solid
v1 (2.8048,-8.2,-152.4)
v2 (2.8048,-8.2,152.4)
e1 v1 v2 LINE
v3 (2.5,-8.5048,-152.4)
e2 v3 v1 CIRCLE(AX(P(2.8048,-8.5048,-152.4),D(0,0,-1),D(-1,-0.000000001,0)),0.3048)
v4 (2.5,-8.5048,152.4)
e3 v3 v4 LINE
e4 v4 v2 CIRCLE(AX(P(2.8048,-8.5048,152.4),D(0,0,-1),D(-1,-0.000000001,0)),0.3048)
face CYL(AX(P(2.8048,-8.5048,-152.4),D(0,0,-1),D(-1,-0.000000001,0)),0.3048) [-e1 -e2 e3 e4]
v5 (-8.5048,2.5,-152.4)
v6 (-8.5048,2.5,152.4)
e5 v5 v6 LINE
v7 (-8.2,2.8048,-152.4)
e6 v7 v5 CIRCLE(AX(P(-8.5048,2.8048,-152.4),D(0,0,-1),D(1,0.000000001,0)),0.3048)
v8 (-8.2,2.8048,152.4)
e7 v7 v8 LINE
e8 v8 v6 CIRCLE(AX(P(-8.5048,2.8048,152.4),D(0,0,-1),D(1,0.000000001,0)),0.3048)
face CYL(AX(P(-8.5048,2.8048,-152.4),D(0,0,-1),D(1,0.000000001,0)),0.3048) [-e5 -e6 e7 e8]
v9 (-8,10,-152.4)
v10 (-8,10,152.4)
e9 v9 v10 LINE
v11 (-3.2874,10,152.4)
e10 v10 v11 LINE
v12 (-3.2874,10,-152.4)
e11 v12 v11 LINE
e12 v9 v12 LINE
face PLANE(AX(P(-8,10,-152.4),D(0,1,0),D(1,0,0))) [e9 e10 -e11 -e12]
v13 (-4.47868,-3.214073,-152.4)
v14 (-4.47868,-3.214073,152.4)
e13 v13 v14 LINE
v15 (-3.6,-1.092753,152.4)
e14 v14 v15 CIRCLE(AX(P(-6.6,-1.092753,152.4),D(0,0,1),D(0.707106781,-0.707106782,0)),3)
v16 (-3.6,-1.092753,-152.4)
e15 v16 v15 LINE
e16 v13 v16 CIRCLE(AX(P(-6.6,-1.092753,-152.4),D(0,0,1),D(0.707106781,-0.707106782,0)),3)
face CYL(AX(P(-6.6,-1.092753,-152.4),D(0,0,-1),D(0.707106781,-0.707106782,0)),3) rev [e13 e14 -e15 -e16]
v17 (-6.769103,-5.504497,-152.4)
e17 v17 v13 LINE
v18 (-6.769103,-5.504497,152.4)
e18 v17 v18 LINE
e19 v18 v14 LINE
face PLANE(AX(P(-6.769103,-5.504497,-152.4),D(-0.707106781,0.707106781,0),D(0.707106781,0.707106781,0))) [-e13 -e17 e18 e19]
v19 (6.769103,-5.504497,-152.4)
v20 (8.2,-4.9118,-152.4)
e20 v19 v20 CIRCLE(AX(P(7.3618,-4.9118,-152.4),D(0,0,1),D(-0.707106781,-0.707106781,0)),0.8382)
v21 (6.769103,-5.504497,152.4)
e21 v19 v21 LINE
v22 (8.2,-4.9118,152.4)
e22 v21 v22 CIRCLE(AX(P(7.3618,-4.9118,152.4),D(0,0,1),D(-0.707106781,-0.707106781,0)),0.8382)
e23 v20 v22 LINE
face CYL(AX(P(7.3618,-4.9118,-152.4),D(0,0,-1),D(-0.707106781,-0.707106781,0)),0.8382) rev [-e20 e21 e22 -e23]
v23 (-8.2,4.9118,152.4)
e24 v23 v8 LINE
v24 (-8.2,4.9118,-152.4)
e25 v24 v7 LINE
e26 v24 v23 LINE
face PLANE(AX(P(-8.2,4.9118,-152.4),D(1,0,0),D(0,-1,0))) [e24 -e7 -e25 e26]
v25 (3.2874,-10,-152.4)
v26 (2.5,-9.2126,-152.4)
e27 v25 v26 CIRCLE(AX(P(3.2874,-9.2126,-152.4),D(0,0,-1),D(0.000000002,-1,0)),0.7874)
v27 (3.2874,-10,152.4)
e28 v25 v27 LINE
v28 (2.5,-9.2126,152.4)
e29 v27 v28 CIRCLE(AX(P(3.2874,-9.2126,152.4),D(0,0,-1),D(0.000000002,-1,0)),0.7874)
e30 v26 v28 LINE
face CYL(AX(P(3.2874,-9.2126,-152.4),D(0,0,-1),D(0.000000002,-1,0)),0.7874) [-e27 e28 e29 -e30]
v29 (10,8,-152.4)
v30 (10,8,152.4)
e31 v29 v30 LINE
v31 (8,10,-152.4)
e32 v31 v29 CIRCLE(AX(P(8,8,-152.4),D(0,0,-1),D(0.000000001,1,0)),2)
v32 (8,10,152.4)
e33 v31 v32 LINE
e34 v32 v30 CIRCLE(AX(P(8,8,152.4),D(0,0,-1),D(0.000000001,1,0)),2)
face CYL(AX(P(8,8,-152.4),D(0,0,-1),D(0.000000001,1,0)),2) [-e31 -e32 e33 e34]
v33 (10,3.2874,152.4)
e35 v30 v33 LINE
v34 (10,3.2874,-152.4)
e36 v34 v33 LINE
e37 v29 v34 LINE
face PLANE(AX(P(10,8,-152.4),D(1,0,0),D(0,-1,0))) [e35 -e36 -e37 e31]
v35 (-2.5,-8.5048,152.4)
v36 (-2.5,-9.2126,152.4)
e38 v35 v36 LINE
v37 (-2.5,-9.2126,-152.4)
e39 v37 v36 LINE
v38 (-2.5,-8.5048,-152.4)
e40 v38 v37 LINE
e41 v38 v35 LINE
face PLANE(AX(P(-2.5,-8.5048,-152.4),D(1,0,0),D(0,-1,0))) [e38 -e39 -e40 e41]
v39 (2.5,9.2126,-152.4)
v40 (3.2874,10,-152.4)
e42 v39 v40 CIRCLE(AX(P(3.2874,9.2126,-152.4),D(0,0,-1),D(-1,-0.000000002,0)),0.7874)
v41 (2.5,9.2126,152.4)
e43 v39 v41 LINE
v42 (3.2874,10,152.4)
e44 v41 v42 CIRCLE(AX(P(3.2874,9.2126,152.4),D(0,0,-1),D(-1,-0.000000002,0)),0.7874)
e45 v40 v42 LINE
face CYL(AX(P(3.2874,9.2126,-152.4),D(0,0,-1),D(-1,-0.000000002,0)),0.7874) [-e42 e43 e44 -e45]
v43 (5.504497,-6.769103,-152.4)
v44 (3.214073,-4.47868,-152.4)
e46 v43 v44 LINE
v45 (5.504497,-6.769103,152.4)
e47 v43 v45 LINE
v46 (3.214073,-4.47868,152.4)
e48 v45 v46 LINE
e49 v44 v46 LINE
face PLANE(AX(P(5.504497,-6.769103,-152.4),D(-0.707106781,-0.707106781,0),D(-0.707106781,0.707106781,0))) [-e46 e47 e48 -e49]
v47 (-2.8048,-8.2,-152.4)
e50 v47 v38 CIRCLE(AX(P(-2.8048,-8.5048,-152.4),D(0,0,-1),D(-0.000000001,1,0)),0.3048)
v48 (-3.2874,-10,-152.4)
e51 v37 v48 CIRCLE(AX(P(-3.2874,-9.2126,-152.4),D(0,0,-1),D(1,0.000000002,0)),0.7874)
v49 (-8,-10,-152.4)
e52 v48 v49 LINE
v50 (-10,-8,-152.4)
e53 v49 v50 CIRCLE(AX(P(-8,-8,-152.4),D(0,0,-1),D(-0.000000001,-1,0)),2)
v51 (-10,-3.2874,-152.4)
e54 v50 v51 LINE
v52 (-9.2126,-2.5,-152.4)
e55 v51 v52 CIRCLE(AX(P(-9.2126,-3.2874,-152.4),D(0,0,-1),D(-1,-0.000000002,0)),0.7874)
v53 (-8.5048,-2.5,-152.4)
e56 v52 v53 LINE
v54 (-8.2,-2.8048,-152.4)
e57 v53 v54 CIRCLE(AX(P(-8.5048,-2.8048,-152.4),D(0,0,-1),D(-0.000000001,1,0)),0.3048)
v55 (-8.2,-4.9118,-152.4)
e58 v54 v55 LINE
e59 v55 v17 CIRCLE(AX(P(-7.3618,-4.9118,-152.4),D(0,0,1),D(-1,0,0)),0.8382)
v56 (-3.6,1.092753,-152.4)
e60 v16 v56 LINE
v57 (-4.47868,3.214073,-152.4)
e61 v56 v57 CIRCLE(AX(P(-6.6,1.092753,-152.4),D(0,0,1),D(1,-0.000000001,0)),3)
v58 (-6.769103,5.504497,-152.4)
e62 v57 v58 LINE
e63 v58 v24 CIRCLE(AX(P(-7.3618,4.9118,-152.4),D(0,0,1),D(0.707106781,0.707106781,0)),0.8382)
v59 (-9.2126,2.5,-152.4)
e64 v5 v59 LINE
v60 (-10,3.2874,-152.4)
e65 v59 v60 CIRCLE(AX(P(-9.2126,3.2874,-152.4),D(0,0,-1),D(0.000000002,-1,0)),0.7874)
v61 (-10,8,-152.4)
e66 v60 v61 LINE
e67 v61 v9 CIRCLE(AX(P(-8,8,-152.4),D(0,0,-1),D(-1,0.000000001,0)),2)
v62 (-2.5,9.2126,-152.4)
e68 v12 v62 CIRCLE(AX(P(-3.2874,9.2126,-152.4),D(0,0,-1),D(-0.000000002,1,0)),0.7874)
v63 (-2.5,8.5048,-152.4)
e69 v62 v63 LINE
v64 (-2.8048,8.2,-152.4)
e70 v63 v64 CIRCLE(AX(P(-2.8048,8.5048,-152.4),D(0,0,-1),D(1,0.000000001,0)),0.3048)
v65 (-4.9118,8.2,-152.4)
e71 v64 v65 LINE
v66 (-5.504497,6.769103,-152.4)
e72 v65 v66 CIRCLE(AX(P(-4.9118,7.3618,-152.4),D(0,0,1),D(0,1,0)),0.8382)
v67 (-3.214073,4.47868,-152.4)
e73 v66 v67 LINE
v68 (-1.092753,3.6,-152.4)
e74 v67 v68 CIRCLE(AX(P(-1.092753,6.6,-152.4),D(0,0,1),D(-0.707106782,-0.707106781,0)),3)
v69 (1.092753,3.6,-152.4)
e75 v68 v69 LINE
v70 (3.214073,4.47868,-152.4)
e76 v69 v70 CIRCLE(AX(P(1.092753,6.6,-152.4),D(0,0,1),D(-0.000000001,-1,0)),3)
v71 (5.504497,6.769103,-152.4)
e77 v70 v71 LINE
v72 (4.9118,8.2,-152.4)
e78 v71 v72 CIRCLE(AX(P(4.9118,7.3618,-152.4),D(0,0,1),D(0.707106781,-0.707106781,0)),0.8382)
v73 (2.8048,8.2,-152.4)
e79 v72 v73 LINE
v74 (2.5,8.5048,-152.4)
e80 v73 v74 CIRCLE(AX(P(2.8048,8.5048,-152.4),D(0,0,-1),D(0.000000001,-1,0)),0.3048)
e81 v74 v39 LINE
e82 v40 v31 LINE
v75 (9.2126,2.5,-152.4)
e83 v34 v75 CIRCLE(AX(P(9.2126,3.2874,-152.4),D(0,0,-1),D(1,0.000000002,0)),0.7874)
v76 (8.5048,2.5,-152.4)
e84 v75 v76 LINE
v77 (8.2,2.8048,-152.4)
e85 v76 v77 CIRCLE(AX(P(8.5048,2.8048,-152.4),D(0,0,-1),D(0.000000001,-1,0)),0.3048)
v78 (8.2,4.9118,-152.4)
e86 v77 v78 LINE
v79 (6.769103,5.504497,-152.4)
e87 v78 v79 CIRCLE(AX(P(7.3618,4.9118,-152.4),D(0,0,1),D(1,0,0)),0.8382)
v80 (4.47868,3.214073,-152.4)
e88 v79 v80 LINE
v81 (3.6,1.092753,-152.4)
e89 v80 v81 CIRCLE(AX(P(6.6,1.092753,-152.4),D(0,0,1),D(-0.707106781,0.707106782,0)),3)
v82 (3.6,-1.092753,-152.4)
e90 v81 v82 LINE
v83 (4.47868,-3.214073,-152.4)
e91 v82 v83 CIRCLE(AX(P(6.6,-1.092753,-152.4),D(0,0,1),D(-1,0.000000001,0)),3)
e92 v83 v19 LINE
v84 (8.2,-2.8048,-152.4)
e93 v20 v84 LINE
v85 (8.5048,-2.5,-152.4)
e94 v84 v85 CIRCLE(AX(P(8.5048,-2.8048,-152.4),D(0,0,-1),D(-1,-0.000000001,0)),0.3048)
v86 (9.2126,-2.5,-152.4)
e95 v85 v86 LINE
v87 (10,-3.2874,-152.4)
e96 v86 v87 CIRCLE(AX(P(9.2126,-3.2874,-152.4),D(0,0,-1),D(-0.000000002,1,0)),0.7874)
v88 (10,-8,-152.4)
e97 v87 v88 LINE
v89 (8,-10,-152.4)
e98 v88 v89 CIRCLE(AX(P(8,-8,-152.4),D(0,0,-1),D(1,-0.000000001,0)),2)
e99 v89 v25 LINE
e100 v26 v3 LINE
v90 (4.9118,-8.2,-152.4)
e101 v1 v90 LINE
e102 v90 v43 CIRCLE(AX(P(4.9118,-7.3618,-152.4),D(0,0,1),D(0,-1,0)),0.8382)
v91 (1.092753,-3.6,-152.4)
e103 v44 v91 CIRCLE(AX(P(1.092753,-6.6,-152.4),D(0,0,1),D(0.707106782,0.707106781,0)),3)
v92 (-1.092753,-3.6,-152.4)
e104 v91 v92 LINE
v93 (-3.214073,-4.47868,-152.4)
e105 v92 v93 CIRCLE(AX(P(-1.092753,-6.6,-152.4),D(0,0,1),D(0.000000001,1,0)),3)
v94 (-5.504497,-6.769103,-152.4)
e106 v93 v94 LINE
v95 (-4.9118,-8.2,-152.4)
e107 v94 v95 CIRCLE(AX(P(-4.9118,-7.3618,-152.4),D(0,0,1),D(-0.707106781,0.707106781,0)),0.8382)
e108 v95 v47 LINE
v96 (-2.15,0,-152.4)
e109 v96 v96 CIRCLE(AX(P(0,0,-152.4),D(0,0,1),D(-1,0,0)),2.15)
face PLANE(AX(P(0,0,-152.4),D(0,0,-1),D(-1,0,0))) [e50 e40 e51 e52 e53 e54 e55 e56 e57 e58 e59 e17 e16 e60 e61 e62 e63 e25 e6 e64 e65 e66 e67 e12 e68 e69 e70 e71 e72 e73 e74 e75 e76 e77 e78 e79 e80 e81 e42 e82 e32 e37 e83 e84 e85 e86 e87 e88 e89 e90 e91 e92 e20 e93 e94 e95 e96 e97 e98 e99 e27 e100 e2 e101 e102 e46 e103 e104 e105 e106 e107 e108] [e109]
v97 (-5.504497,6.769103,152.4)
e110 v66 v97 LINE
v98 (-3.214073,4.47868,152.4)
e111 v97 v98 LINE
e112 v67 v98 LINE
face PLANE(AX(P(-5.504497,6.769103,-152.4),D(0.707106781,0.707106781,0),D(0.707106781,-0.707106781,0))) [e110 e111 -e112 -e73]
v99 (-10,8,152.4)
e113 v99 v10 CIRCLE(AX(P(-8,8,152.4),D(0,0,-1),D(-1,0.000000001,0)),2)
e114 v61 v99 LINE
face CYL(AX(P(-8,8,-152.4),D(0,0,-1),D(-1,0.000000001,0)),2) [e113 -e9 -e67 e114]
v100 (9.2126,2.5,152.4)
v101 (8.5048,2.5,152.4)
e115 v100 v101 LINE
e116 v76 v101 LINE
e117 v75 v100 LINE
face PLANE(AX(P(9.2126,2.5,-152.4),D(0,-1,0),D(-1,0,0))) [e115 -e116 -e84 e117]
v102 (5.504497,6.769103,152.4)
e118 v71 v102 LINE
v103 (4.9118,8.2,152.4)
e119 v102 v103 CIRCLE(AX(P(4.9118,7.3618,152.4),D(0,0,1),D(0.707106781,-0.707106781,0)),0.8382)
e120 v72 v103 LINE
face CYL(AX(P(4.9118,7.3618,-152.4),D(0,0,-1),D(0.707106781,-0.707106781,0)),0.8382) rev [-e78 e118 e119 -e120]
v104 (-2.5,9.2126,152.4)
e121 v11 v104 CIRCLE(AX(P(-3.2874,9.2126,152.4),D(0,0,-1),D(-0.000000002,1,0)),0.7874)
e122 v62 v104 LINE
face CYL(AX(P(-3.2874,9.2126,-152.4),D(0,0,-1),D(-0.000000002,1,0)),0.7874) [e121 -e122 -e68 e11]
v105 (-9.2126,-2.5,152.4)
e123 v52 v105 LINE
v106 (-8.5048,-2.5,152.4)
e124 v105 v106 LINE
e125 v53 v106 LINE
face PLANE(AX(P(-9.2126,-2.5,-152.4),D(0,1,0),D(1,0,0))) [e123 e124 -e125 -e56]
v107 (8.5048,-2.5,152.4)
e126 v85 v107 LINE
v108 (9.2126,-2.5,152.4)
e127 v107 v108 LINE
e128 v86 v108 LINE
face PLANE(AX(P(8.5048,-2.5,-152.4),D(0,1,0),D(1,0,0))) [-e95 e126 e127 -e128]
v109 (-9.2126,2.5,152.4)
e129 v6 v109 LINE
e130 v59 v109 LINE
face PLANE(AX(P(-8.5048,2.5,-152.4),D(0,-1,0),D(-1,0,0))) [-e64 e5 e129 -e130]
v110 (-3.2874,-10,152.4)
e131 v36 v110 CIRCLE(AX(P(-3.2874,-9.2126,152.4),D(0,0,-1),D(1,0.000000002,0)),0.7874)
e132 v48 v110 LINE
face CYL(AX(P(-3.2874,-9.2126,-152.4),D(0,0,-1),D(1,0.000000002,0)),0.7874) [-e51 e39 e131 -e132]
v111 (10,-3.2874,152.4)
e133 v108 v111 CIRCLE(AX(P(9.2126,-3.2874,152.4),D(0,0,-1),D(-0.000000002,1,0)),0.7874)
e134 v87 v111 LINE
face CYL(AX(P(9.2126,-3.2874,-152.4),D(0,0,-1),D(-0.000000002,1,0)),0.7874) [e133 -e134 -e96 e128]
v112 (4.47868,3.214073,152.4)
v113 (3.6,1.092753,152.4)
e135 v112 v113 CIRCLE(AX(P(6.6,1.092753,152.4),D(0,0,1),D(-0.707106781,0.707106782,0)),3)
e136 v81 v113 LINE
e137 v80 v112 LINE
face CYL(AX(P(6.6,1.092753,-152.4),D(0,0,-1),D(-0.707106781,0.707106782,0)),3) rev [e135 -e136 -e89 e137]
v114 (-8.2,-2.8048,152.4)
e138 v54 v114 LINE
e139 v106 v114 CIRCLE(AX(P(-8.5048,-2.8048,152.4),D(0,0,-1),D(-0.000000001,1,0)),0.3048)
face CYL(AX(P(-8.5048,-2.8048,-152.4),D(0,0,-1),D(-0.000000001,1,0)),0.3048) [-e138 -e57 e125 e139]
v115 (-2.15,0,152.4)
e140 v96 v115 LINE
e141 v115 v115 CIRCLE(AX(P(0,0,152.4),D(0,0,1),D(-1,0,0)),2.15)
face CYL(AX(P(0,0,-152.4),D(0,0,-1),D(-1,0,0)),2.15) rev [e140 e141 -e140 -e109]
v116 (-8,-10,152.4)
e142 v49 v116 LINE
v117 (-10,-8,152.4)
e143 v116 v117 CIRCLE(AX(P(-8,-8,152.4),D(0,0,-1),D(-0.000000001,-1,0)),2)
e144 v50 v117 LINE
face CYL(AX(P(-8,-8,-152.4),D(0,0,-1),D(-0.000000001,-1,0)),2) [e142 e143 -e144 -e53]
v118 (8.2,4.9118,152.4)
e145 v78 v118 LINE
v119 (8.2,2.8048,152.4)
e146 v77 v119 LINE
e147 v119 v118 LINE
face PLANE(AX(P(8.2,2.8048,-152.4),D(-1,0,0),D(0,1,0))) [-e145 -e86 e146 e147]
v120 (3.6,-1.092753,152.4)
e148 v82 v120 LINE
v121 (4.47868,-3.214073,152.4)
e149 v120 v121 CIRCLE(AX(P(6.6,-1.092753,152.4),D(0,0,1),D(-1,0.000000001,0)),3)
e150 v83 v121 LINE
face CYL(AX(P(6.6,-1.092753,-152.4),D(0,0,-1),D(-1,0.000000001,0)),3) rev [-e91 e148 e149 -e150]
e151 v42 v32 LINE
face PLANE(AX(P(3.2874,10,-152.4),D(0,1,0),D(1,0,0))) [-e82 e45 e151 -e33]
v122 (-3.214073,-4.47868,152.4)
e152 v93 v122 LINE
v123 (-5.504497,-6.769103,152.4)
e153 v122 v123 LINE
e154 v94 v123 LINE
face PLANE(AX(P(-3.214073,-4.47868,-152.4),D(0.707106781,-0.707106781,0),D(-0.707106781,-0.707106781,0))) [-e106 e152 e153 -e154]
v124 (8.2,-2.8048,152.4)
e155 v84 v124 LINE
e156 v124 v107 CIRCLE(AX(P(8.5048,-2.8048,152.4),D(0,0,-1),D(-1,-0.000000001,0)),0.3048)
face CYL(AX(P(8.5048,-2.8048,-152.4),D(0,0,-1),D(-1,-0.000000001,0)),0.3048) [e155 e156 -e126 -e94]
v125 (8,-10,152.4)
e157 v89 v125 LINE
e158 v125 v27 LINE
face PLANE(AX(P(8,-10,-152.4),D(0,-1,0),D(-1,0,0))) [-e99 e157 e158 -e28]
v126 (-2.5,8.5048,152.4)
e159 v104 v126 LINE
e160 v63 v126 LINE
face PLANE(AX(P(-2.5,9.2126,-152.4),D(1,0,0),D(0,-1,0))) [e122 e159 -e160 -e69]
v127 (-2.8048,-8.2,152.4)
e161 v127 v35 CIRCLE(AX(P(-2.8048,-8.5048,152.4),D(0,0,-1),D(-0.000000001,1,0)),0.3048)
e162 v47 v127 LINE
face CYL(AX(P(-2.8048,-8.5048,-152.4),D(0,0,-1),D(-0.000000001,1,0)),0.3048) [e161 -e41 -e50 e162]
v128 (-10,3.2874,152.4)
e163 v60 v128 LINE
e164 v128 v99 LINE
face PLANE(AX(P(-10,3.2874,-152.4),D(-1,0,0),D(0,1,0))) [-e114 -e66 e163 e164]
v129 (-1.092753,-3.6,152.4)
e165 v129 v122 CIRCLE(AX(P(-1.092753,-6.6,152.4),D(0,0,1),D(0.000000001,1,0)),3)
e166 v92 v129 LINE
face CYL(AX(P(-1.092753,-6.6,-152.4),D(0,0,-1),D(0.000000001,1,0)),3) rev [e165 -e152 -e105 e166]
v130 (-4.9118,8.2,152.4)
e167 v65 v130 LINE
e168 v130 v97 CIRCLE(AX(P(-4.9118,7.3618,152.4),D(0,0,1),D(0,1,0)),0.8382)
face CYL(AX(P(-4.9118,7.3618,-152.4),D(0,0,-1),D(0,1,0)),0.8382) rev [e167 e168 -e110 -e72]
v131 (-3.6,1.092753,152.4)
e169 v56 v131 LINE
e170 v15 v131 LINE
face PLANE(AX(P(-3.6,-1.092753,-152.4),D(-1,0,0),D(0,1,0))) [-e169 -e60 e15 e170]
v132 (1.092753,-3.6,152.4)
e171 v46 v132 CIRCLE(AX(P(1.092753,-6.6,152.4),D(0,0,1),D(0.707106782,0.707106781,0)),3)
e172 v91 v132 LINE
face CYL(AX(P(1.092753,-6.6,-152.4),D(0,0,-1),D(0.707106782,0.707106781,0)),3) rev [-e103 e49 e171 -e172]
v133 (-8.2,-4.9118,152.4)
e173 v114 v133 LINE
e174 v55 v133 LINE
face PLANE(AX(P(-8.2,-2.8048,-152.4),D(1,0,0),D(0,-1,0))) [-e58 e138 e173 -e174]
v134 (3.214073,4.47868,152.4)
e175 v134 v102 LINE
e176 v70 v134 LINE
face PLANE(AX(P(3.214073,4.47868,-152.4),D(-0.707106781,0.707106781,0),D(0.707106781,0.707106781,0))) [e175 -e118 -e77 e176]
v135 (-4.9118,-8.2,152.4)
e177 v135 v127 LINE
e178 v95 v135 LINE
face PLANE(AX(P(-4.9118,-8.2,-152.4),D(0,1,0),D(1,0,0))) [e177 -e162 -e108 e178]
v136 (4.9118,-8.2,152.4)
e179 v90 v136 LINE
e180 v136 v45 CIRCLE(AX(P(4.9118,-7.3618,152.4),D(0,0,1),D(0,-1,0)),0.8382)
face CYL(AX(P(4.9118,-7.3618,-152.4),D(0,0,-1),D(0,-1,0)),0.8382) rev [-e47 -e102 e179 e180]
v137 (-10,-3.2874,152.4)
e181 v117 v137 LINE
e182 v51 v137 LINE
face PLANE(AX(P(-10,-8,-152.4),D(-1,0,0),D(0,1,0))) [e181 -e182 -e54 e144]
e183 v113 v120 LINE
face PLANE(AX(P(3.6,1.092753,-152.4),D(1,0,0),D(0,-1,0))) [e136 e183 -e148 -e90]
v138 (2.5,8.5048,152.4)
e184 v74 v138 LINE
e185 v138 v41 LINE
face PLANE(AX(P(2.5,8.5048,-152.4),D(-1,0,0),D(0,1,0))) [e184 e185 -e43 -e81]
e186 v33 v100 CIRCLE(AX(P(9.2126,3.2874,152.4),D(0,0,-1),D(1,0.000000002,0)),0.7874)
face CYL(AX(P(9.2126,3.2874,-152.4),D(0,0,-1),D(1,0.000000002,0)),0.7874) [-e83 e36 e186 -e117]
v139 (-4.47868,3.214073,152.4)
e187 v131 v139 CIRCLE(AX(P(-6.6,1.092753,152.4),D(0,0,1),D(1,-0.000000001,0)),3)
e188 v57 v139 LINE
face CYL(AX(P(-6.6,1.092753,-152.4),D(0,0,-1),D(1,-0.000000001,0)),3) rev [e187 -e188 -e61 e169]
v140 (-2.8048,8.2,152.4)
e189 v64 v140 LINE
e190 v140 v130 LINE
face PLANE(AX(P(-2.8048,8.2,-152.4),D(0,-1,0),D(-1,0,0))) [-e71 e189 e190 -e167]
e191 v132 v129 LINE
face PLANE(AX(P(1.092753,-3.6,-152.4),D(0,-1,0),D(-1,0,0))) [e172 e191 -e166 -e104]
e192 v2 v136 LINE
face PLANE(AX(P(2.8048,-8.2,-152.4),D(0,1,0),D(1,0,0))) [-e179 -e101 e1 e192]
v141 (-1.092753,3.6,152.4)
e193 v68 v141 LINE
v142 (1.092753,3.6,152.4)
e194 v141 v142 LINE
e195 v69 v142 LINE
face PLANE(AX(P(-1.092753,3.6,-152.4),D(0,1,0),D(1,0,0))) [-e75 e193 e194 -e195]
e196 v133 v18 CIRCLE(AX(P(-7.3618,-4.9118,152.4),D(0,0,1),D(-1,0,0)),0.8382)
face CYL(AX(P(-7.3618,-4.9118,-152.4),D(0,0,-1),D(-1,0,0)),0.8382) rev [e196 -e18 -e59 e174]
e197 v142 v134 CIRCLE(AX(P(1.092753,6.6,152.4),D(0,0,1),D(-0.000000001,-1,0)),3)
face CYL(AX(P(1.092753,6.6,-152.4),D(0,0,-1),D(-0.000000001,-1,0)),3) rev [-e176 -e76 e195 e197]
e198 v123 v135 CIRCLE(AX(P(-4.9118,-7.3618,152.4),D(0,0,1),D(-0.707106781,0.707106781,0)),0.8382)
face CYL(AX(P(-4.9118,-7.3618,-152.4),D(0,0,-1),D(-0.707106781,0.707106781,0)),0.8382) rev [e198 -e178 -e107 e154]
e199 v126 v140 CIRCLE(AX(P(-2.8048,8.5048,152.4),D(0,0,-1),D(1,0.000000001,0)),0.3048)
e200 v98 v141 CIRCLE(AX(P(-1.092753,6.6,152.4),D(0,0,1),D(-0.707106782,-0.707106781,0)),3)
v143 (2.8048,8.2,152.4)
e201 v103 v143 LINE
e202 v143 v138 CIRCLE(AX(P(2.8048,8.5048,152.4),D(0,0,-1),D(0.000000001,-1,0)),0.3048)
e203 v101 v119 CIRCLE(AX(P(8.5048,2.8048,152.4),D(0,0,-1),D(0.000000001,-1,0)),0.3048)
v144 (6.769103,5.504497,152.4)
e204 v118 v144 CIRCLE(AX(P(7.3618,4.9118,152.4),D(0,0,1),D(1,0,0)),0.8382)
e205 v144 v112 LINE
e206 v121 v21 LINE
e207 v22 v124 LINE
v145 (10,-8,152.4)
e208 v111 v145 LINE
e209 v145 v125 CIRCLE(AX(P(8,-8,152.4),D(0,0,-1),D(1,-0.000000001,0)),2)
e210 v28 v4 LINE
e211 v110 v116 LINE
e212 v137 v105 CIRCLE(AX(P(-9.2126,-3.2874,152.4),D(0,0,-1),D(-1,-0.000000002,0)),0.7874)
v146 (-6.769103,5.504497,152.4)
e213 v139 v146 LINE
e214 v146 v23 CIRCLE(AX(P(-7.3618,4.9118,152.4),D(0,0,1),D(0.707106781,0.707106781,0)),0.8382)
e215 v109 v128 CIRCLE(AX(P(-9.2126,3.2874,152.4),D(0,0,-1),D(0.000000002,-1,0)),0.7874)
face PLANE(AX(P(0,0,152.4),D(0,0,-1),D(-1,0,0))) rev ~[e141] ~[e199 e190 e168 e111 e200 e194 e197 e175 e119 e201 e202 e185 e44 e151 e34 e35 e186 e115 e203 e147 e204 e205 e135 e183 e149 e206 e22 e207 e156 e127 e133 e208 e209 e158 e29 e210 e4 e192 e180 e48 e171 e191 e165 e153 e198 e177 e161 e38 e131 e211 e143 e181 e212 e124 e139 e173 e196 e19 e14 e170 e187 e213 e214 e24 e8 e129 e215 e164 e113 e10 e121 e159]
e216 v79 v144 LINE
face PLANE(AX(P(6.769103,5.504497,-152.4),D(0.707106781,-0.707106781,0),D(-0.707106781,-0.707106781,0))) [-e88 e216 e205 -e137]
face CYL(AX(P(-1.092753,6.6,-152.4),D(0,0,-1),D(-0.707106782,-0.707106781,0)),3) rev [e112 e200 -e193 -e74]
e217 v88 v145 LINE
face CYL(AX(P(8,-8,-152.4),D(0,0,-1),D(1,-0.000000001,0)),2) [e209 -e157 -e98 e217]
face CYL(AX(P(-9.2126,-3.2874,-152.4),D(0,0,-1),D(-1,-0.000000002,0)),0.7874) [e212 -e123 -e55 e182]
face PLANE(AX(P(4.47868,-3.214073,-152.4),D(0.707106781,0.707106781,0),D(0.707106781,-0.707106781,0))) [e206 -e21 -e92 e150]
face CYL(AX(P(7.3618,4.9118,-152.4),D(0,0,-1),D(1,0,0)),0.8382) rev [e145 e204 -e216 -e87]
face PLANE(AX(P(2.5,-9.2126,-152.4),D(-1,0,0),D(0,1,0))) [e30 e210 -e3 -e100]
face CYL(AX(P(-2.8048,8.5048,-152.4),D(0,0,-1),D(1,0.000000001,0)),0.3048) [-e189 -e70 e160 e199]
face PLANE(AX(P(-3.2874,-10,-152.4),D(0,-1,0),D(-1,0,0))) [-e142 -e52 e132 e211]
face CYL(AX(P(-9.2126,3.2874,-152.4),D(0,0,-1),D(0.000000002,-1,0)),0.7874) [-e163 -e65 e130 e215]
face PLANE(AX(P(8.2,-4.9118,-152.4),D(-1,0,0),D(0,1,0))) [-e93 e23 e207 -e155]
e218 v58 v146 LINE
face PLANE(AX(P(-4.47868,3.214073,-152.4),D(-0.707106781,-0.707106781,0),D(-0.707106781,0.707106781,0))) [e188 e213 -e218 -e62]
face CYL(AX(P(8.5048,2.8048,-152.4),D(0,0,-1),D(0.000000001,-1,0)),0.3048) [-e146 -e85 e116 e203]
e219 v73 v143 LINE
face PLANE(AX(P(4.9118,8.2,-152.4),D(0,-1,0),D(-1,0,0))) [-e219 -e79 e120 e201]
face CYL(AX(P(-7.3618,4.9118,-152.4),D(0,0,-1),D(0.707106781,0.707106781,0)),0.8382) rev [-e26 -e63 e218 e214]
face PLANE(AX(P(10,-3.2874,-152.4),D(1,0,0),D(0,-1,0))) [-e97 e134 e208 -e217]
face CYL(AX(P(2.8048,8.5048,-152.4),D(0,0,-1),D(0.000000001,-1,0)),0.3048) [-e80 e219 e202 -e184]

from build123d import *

# Parameters (mm, degrees)
BOSS_EXTRUDE1_DEPTH      = 152.4
BOSS_EXTRUDE1_DEPTH_BACK = 152.4
SKETCH3_R                = 2.15


with BuildPart() as part:
    # Sketch3 → Boss-Extrude1 (new, two sides: drawn at the far end of the back side and taken through both)
    with BuildSketch(Plane.XY.offset(-BOSS_EXTRUDE1_DEPTH_BACK)):
        with BuildLine():
            Line((3.2874, 10), (8, 10))
            ThreePointArc((8, 10), (9.414213562, 9.414213562), (10, 8))
            Line((10, 8), (10, 3.2874))
            ThreePointArc((10, 3.2874), (9.76937588, 2.73062412), (9.2126, 2.5))
            Line((9.2126, 2.5), (8.5048, 2.5))
            ThreePointArc((8.5048, 2.5), (8.289273853, 2.589273853), (8.2, 2.8048))
            Line((8.2, 2.8048), (8.2, 4.9118))
            ThreePointArc((8.2, 4.9118), (7.682565253, 5.686195824), (6.769103096, 5.504496904))
            Line((6.769103096, 5.504496904), (4.478679656, 3.214073464))
            ThreePointArc((4.478679656, 3.214073464), (3.828361402, 2.240803418), (3.6, 1.092753121))
            Line((3.6, 1.092753121), (3.6, -1.092753121))
            ThreePointArc((3.6, -1.092753121), (3.828361402, -2.240803418), (4.478679656, -3.214073464))
            Line((4.478679656, -3.214073464), (6.769103096, -5.504496904))
            ThreePointArc((6.769103096, -5.504496904), (7.682565253, -5.686195824), (8.2, -4.9118))
            Line((8.2, -4.9118), (8.2, -2.8048))
            ThreePointArc((8.2, -2.8048), (8.289273853, -2.589273853), (8.5048, -2.5))
            Line((8.5048, -2.5), (9.2126, -2.5))
            ThreePointArc((9.2126, -2.5), (9.76937588, -2.73062412), (10, -3.2874))
            Line((10, -3.2874), (10, -8))
            ThreePointArc((10, -8), (9.414213562, -9.414213562), (8, -10))
            Line((8, -10), (3.2874, -10))
            ThreePointArc((3.2874, -10), (2.73062412, -9.76937588), (2.5, -9.2126))
            Line((2.5, -9.2126), (2.5, -8.5048))
            ThreePointArc((2.5, -8.5048), (2.589273853, -8.289273853), (2.8048, -8.2))
            Line((2.8048, -8.2), (4.9118, -8.2))
            ThreePointArc((4.9118, -8.2), (5.686195824, -7.682565253), (5.504496904, -6.769103096))
            Line((5.504496904, -6.769103096), (3.214073464, -4.478679656))
            ThreePointArc((3.214073464, -4.478679656), (2.240803418, -3.828361402), (1.092753121, -3.6))
            Line((1.092753121, -3.6), (-1.092753121, -3.6))
            ThreePointArc((-1.092753121, -3.6), (-2.240803418, -3.828361402), (-3.214073464, -4.478679656))
            Line((-3.214073464, -4.478679656), (-5.504496904, -6.769103096))
            ThreePointArc((-5.504496904, -6.769103096), (-5.686195824, -7.682565253), (-4.9118, -8.2))
            Line((-4.9118, -8.2), (-2.8048, -8.2))
            ThreePointArc((-2.8048, -8.2), (-2.589273853, -8.289273853), (-2.5, -8.5048))
            Line((-2.5, -8.5048), (-2.5, -9.2126))
            ThreePointArc((-2.5, -9.2126), (-2.73062412, -9.76937588), (-3.2874, -10))
            Line((-3.2874, -10), (-8, -10))
            ThreePointArc((-8, -10), (-9.414213562, -9.414213562), (-10, -8))
            Line((-10, -8), (-10, -3.2874))
            ThreePointArc((-10, -3.2874), (-9.76937588, -2.73062412), (-9.2126, -2.5))
            Line((-9.2126, -2.5), (-8.5048, -2.5))
            ThreePointArc((-8.5048, -2.5), (-8.289273853, -2.589273853), (-8.2, -2.8048))
            Line((-8.2, -2.8048), (-8.2, -4.9118))
            ThreePointArc((-8.2, -4.9118), (-7.682565253, -5.686195824), (-6.769103096, -5.504496904))
            Line((-6.769103096, -5.504496904), (-4.478679656, -3.214073464))
            ThreePointArc((-4.478679656, -3.214073464), (-3.828361402, -2.240803418), (-3.6, -1.092753121))
            Line((-3.6, -1.092753121), (-3.6, 1.092753121))
            ThreePointArc((-3.6, 1.092753121), (-3.828361402, 2.240803418), (-4.478679656, 3.214073464))
            Line((-4.478679656, 3.214073464), (-6.769103096, 5.504496904))
            ThreePointArc((-6.769103096, 5.504496904), (-7.682565253, 5.686195824), (-8.2, 4.9118))
            Line((-8.2, 4.9118), (-8.2, 2.8048))
            ThreePointArc((-8.2, 2.8048), (-8.289273853, 2.589273853), (-8.5048, 2.5))
            Line((-8.5048, 2.5), (-9.2126, 2.5))
            ThreePointArc((-9.2126, 2.5), (-9.76937588, 2.73062412), (-10, 3.2874))
            Line((-10, 3.2874), (-10, 8))
            ThreePointArc((-10, 8), (-9.414213562, 9.414213562), (-8, 10))
            Line((-8, 10), (-3.2874, 10))
            ThreePointArc((-3.2874, 10), (-2.73062412, 9.76937588), (-2.5, 9.2126))
            Line((-2.5, 9.2126), (-2.5, 8.5048))
            ThreePointArc((-2.5, 8.5048), (-2.589273853, 8.289273853), (-2.8048, 8.2))
            Line((-2.8048, 8.2), (-4.9118, 8.2))
            ThreePointArc((-4.9118, 8.2), (-5.686195824, 7.682565253), (-5.504496904, 6.769103096))
            Line((-5.504496904, 6.769103096), (-3.214073464, 4.478679656))
            ThreePointArc((-3.214073464, 4.478679656), (-2.240803418, 3.828361402), (-1.092753121, 3.6))
            Line((-1.092753121, 3.6), (1.092753121, 3.6))
            ThreePointArc((1.092753121, 3.6), (2.240803418, 3.828361402), (3.214073464, 4.478679656))
            Line((3.214073464, 4.478679656), (5.504496904, 6.769103096))
            ThreePointArc((5.504496904, 6.769103096), (5.686195824, 7.682565253), (4.9118, 8.2))
            Line((4.9118, 8.2), (2.8048, 8.2))
            ThreePointArc((2.8048, 8.2), (2.589273853, 8.289273853), (2.5, 8.5048))
            Line((2.5, 8.5048), (2.5, 9.2126))
            ThreePointArc((2.5, 9.2126), (2.73062412, 9.76937588), (3.2874, 10))
        make_face()
        with Locations(Location((0, 0, 0), (0, 0, 180))):
            Circle(SKETCH3_R, mode=Mode.SUBTRACT)
    extrude(amount=BOSS_EXTRUDE1_DEPTH + BOSS_EXTRUDE1_DEPTH_BACK)


solid = part.part
